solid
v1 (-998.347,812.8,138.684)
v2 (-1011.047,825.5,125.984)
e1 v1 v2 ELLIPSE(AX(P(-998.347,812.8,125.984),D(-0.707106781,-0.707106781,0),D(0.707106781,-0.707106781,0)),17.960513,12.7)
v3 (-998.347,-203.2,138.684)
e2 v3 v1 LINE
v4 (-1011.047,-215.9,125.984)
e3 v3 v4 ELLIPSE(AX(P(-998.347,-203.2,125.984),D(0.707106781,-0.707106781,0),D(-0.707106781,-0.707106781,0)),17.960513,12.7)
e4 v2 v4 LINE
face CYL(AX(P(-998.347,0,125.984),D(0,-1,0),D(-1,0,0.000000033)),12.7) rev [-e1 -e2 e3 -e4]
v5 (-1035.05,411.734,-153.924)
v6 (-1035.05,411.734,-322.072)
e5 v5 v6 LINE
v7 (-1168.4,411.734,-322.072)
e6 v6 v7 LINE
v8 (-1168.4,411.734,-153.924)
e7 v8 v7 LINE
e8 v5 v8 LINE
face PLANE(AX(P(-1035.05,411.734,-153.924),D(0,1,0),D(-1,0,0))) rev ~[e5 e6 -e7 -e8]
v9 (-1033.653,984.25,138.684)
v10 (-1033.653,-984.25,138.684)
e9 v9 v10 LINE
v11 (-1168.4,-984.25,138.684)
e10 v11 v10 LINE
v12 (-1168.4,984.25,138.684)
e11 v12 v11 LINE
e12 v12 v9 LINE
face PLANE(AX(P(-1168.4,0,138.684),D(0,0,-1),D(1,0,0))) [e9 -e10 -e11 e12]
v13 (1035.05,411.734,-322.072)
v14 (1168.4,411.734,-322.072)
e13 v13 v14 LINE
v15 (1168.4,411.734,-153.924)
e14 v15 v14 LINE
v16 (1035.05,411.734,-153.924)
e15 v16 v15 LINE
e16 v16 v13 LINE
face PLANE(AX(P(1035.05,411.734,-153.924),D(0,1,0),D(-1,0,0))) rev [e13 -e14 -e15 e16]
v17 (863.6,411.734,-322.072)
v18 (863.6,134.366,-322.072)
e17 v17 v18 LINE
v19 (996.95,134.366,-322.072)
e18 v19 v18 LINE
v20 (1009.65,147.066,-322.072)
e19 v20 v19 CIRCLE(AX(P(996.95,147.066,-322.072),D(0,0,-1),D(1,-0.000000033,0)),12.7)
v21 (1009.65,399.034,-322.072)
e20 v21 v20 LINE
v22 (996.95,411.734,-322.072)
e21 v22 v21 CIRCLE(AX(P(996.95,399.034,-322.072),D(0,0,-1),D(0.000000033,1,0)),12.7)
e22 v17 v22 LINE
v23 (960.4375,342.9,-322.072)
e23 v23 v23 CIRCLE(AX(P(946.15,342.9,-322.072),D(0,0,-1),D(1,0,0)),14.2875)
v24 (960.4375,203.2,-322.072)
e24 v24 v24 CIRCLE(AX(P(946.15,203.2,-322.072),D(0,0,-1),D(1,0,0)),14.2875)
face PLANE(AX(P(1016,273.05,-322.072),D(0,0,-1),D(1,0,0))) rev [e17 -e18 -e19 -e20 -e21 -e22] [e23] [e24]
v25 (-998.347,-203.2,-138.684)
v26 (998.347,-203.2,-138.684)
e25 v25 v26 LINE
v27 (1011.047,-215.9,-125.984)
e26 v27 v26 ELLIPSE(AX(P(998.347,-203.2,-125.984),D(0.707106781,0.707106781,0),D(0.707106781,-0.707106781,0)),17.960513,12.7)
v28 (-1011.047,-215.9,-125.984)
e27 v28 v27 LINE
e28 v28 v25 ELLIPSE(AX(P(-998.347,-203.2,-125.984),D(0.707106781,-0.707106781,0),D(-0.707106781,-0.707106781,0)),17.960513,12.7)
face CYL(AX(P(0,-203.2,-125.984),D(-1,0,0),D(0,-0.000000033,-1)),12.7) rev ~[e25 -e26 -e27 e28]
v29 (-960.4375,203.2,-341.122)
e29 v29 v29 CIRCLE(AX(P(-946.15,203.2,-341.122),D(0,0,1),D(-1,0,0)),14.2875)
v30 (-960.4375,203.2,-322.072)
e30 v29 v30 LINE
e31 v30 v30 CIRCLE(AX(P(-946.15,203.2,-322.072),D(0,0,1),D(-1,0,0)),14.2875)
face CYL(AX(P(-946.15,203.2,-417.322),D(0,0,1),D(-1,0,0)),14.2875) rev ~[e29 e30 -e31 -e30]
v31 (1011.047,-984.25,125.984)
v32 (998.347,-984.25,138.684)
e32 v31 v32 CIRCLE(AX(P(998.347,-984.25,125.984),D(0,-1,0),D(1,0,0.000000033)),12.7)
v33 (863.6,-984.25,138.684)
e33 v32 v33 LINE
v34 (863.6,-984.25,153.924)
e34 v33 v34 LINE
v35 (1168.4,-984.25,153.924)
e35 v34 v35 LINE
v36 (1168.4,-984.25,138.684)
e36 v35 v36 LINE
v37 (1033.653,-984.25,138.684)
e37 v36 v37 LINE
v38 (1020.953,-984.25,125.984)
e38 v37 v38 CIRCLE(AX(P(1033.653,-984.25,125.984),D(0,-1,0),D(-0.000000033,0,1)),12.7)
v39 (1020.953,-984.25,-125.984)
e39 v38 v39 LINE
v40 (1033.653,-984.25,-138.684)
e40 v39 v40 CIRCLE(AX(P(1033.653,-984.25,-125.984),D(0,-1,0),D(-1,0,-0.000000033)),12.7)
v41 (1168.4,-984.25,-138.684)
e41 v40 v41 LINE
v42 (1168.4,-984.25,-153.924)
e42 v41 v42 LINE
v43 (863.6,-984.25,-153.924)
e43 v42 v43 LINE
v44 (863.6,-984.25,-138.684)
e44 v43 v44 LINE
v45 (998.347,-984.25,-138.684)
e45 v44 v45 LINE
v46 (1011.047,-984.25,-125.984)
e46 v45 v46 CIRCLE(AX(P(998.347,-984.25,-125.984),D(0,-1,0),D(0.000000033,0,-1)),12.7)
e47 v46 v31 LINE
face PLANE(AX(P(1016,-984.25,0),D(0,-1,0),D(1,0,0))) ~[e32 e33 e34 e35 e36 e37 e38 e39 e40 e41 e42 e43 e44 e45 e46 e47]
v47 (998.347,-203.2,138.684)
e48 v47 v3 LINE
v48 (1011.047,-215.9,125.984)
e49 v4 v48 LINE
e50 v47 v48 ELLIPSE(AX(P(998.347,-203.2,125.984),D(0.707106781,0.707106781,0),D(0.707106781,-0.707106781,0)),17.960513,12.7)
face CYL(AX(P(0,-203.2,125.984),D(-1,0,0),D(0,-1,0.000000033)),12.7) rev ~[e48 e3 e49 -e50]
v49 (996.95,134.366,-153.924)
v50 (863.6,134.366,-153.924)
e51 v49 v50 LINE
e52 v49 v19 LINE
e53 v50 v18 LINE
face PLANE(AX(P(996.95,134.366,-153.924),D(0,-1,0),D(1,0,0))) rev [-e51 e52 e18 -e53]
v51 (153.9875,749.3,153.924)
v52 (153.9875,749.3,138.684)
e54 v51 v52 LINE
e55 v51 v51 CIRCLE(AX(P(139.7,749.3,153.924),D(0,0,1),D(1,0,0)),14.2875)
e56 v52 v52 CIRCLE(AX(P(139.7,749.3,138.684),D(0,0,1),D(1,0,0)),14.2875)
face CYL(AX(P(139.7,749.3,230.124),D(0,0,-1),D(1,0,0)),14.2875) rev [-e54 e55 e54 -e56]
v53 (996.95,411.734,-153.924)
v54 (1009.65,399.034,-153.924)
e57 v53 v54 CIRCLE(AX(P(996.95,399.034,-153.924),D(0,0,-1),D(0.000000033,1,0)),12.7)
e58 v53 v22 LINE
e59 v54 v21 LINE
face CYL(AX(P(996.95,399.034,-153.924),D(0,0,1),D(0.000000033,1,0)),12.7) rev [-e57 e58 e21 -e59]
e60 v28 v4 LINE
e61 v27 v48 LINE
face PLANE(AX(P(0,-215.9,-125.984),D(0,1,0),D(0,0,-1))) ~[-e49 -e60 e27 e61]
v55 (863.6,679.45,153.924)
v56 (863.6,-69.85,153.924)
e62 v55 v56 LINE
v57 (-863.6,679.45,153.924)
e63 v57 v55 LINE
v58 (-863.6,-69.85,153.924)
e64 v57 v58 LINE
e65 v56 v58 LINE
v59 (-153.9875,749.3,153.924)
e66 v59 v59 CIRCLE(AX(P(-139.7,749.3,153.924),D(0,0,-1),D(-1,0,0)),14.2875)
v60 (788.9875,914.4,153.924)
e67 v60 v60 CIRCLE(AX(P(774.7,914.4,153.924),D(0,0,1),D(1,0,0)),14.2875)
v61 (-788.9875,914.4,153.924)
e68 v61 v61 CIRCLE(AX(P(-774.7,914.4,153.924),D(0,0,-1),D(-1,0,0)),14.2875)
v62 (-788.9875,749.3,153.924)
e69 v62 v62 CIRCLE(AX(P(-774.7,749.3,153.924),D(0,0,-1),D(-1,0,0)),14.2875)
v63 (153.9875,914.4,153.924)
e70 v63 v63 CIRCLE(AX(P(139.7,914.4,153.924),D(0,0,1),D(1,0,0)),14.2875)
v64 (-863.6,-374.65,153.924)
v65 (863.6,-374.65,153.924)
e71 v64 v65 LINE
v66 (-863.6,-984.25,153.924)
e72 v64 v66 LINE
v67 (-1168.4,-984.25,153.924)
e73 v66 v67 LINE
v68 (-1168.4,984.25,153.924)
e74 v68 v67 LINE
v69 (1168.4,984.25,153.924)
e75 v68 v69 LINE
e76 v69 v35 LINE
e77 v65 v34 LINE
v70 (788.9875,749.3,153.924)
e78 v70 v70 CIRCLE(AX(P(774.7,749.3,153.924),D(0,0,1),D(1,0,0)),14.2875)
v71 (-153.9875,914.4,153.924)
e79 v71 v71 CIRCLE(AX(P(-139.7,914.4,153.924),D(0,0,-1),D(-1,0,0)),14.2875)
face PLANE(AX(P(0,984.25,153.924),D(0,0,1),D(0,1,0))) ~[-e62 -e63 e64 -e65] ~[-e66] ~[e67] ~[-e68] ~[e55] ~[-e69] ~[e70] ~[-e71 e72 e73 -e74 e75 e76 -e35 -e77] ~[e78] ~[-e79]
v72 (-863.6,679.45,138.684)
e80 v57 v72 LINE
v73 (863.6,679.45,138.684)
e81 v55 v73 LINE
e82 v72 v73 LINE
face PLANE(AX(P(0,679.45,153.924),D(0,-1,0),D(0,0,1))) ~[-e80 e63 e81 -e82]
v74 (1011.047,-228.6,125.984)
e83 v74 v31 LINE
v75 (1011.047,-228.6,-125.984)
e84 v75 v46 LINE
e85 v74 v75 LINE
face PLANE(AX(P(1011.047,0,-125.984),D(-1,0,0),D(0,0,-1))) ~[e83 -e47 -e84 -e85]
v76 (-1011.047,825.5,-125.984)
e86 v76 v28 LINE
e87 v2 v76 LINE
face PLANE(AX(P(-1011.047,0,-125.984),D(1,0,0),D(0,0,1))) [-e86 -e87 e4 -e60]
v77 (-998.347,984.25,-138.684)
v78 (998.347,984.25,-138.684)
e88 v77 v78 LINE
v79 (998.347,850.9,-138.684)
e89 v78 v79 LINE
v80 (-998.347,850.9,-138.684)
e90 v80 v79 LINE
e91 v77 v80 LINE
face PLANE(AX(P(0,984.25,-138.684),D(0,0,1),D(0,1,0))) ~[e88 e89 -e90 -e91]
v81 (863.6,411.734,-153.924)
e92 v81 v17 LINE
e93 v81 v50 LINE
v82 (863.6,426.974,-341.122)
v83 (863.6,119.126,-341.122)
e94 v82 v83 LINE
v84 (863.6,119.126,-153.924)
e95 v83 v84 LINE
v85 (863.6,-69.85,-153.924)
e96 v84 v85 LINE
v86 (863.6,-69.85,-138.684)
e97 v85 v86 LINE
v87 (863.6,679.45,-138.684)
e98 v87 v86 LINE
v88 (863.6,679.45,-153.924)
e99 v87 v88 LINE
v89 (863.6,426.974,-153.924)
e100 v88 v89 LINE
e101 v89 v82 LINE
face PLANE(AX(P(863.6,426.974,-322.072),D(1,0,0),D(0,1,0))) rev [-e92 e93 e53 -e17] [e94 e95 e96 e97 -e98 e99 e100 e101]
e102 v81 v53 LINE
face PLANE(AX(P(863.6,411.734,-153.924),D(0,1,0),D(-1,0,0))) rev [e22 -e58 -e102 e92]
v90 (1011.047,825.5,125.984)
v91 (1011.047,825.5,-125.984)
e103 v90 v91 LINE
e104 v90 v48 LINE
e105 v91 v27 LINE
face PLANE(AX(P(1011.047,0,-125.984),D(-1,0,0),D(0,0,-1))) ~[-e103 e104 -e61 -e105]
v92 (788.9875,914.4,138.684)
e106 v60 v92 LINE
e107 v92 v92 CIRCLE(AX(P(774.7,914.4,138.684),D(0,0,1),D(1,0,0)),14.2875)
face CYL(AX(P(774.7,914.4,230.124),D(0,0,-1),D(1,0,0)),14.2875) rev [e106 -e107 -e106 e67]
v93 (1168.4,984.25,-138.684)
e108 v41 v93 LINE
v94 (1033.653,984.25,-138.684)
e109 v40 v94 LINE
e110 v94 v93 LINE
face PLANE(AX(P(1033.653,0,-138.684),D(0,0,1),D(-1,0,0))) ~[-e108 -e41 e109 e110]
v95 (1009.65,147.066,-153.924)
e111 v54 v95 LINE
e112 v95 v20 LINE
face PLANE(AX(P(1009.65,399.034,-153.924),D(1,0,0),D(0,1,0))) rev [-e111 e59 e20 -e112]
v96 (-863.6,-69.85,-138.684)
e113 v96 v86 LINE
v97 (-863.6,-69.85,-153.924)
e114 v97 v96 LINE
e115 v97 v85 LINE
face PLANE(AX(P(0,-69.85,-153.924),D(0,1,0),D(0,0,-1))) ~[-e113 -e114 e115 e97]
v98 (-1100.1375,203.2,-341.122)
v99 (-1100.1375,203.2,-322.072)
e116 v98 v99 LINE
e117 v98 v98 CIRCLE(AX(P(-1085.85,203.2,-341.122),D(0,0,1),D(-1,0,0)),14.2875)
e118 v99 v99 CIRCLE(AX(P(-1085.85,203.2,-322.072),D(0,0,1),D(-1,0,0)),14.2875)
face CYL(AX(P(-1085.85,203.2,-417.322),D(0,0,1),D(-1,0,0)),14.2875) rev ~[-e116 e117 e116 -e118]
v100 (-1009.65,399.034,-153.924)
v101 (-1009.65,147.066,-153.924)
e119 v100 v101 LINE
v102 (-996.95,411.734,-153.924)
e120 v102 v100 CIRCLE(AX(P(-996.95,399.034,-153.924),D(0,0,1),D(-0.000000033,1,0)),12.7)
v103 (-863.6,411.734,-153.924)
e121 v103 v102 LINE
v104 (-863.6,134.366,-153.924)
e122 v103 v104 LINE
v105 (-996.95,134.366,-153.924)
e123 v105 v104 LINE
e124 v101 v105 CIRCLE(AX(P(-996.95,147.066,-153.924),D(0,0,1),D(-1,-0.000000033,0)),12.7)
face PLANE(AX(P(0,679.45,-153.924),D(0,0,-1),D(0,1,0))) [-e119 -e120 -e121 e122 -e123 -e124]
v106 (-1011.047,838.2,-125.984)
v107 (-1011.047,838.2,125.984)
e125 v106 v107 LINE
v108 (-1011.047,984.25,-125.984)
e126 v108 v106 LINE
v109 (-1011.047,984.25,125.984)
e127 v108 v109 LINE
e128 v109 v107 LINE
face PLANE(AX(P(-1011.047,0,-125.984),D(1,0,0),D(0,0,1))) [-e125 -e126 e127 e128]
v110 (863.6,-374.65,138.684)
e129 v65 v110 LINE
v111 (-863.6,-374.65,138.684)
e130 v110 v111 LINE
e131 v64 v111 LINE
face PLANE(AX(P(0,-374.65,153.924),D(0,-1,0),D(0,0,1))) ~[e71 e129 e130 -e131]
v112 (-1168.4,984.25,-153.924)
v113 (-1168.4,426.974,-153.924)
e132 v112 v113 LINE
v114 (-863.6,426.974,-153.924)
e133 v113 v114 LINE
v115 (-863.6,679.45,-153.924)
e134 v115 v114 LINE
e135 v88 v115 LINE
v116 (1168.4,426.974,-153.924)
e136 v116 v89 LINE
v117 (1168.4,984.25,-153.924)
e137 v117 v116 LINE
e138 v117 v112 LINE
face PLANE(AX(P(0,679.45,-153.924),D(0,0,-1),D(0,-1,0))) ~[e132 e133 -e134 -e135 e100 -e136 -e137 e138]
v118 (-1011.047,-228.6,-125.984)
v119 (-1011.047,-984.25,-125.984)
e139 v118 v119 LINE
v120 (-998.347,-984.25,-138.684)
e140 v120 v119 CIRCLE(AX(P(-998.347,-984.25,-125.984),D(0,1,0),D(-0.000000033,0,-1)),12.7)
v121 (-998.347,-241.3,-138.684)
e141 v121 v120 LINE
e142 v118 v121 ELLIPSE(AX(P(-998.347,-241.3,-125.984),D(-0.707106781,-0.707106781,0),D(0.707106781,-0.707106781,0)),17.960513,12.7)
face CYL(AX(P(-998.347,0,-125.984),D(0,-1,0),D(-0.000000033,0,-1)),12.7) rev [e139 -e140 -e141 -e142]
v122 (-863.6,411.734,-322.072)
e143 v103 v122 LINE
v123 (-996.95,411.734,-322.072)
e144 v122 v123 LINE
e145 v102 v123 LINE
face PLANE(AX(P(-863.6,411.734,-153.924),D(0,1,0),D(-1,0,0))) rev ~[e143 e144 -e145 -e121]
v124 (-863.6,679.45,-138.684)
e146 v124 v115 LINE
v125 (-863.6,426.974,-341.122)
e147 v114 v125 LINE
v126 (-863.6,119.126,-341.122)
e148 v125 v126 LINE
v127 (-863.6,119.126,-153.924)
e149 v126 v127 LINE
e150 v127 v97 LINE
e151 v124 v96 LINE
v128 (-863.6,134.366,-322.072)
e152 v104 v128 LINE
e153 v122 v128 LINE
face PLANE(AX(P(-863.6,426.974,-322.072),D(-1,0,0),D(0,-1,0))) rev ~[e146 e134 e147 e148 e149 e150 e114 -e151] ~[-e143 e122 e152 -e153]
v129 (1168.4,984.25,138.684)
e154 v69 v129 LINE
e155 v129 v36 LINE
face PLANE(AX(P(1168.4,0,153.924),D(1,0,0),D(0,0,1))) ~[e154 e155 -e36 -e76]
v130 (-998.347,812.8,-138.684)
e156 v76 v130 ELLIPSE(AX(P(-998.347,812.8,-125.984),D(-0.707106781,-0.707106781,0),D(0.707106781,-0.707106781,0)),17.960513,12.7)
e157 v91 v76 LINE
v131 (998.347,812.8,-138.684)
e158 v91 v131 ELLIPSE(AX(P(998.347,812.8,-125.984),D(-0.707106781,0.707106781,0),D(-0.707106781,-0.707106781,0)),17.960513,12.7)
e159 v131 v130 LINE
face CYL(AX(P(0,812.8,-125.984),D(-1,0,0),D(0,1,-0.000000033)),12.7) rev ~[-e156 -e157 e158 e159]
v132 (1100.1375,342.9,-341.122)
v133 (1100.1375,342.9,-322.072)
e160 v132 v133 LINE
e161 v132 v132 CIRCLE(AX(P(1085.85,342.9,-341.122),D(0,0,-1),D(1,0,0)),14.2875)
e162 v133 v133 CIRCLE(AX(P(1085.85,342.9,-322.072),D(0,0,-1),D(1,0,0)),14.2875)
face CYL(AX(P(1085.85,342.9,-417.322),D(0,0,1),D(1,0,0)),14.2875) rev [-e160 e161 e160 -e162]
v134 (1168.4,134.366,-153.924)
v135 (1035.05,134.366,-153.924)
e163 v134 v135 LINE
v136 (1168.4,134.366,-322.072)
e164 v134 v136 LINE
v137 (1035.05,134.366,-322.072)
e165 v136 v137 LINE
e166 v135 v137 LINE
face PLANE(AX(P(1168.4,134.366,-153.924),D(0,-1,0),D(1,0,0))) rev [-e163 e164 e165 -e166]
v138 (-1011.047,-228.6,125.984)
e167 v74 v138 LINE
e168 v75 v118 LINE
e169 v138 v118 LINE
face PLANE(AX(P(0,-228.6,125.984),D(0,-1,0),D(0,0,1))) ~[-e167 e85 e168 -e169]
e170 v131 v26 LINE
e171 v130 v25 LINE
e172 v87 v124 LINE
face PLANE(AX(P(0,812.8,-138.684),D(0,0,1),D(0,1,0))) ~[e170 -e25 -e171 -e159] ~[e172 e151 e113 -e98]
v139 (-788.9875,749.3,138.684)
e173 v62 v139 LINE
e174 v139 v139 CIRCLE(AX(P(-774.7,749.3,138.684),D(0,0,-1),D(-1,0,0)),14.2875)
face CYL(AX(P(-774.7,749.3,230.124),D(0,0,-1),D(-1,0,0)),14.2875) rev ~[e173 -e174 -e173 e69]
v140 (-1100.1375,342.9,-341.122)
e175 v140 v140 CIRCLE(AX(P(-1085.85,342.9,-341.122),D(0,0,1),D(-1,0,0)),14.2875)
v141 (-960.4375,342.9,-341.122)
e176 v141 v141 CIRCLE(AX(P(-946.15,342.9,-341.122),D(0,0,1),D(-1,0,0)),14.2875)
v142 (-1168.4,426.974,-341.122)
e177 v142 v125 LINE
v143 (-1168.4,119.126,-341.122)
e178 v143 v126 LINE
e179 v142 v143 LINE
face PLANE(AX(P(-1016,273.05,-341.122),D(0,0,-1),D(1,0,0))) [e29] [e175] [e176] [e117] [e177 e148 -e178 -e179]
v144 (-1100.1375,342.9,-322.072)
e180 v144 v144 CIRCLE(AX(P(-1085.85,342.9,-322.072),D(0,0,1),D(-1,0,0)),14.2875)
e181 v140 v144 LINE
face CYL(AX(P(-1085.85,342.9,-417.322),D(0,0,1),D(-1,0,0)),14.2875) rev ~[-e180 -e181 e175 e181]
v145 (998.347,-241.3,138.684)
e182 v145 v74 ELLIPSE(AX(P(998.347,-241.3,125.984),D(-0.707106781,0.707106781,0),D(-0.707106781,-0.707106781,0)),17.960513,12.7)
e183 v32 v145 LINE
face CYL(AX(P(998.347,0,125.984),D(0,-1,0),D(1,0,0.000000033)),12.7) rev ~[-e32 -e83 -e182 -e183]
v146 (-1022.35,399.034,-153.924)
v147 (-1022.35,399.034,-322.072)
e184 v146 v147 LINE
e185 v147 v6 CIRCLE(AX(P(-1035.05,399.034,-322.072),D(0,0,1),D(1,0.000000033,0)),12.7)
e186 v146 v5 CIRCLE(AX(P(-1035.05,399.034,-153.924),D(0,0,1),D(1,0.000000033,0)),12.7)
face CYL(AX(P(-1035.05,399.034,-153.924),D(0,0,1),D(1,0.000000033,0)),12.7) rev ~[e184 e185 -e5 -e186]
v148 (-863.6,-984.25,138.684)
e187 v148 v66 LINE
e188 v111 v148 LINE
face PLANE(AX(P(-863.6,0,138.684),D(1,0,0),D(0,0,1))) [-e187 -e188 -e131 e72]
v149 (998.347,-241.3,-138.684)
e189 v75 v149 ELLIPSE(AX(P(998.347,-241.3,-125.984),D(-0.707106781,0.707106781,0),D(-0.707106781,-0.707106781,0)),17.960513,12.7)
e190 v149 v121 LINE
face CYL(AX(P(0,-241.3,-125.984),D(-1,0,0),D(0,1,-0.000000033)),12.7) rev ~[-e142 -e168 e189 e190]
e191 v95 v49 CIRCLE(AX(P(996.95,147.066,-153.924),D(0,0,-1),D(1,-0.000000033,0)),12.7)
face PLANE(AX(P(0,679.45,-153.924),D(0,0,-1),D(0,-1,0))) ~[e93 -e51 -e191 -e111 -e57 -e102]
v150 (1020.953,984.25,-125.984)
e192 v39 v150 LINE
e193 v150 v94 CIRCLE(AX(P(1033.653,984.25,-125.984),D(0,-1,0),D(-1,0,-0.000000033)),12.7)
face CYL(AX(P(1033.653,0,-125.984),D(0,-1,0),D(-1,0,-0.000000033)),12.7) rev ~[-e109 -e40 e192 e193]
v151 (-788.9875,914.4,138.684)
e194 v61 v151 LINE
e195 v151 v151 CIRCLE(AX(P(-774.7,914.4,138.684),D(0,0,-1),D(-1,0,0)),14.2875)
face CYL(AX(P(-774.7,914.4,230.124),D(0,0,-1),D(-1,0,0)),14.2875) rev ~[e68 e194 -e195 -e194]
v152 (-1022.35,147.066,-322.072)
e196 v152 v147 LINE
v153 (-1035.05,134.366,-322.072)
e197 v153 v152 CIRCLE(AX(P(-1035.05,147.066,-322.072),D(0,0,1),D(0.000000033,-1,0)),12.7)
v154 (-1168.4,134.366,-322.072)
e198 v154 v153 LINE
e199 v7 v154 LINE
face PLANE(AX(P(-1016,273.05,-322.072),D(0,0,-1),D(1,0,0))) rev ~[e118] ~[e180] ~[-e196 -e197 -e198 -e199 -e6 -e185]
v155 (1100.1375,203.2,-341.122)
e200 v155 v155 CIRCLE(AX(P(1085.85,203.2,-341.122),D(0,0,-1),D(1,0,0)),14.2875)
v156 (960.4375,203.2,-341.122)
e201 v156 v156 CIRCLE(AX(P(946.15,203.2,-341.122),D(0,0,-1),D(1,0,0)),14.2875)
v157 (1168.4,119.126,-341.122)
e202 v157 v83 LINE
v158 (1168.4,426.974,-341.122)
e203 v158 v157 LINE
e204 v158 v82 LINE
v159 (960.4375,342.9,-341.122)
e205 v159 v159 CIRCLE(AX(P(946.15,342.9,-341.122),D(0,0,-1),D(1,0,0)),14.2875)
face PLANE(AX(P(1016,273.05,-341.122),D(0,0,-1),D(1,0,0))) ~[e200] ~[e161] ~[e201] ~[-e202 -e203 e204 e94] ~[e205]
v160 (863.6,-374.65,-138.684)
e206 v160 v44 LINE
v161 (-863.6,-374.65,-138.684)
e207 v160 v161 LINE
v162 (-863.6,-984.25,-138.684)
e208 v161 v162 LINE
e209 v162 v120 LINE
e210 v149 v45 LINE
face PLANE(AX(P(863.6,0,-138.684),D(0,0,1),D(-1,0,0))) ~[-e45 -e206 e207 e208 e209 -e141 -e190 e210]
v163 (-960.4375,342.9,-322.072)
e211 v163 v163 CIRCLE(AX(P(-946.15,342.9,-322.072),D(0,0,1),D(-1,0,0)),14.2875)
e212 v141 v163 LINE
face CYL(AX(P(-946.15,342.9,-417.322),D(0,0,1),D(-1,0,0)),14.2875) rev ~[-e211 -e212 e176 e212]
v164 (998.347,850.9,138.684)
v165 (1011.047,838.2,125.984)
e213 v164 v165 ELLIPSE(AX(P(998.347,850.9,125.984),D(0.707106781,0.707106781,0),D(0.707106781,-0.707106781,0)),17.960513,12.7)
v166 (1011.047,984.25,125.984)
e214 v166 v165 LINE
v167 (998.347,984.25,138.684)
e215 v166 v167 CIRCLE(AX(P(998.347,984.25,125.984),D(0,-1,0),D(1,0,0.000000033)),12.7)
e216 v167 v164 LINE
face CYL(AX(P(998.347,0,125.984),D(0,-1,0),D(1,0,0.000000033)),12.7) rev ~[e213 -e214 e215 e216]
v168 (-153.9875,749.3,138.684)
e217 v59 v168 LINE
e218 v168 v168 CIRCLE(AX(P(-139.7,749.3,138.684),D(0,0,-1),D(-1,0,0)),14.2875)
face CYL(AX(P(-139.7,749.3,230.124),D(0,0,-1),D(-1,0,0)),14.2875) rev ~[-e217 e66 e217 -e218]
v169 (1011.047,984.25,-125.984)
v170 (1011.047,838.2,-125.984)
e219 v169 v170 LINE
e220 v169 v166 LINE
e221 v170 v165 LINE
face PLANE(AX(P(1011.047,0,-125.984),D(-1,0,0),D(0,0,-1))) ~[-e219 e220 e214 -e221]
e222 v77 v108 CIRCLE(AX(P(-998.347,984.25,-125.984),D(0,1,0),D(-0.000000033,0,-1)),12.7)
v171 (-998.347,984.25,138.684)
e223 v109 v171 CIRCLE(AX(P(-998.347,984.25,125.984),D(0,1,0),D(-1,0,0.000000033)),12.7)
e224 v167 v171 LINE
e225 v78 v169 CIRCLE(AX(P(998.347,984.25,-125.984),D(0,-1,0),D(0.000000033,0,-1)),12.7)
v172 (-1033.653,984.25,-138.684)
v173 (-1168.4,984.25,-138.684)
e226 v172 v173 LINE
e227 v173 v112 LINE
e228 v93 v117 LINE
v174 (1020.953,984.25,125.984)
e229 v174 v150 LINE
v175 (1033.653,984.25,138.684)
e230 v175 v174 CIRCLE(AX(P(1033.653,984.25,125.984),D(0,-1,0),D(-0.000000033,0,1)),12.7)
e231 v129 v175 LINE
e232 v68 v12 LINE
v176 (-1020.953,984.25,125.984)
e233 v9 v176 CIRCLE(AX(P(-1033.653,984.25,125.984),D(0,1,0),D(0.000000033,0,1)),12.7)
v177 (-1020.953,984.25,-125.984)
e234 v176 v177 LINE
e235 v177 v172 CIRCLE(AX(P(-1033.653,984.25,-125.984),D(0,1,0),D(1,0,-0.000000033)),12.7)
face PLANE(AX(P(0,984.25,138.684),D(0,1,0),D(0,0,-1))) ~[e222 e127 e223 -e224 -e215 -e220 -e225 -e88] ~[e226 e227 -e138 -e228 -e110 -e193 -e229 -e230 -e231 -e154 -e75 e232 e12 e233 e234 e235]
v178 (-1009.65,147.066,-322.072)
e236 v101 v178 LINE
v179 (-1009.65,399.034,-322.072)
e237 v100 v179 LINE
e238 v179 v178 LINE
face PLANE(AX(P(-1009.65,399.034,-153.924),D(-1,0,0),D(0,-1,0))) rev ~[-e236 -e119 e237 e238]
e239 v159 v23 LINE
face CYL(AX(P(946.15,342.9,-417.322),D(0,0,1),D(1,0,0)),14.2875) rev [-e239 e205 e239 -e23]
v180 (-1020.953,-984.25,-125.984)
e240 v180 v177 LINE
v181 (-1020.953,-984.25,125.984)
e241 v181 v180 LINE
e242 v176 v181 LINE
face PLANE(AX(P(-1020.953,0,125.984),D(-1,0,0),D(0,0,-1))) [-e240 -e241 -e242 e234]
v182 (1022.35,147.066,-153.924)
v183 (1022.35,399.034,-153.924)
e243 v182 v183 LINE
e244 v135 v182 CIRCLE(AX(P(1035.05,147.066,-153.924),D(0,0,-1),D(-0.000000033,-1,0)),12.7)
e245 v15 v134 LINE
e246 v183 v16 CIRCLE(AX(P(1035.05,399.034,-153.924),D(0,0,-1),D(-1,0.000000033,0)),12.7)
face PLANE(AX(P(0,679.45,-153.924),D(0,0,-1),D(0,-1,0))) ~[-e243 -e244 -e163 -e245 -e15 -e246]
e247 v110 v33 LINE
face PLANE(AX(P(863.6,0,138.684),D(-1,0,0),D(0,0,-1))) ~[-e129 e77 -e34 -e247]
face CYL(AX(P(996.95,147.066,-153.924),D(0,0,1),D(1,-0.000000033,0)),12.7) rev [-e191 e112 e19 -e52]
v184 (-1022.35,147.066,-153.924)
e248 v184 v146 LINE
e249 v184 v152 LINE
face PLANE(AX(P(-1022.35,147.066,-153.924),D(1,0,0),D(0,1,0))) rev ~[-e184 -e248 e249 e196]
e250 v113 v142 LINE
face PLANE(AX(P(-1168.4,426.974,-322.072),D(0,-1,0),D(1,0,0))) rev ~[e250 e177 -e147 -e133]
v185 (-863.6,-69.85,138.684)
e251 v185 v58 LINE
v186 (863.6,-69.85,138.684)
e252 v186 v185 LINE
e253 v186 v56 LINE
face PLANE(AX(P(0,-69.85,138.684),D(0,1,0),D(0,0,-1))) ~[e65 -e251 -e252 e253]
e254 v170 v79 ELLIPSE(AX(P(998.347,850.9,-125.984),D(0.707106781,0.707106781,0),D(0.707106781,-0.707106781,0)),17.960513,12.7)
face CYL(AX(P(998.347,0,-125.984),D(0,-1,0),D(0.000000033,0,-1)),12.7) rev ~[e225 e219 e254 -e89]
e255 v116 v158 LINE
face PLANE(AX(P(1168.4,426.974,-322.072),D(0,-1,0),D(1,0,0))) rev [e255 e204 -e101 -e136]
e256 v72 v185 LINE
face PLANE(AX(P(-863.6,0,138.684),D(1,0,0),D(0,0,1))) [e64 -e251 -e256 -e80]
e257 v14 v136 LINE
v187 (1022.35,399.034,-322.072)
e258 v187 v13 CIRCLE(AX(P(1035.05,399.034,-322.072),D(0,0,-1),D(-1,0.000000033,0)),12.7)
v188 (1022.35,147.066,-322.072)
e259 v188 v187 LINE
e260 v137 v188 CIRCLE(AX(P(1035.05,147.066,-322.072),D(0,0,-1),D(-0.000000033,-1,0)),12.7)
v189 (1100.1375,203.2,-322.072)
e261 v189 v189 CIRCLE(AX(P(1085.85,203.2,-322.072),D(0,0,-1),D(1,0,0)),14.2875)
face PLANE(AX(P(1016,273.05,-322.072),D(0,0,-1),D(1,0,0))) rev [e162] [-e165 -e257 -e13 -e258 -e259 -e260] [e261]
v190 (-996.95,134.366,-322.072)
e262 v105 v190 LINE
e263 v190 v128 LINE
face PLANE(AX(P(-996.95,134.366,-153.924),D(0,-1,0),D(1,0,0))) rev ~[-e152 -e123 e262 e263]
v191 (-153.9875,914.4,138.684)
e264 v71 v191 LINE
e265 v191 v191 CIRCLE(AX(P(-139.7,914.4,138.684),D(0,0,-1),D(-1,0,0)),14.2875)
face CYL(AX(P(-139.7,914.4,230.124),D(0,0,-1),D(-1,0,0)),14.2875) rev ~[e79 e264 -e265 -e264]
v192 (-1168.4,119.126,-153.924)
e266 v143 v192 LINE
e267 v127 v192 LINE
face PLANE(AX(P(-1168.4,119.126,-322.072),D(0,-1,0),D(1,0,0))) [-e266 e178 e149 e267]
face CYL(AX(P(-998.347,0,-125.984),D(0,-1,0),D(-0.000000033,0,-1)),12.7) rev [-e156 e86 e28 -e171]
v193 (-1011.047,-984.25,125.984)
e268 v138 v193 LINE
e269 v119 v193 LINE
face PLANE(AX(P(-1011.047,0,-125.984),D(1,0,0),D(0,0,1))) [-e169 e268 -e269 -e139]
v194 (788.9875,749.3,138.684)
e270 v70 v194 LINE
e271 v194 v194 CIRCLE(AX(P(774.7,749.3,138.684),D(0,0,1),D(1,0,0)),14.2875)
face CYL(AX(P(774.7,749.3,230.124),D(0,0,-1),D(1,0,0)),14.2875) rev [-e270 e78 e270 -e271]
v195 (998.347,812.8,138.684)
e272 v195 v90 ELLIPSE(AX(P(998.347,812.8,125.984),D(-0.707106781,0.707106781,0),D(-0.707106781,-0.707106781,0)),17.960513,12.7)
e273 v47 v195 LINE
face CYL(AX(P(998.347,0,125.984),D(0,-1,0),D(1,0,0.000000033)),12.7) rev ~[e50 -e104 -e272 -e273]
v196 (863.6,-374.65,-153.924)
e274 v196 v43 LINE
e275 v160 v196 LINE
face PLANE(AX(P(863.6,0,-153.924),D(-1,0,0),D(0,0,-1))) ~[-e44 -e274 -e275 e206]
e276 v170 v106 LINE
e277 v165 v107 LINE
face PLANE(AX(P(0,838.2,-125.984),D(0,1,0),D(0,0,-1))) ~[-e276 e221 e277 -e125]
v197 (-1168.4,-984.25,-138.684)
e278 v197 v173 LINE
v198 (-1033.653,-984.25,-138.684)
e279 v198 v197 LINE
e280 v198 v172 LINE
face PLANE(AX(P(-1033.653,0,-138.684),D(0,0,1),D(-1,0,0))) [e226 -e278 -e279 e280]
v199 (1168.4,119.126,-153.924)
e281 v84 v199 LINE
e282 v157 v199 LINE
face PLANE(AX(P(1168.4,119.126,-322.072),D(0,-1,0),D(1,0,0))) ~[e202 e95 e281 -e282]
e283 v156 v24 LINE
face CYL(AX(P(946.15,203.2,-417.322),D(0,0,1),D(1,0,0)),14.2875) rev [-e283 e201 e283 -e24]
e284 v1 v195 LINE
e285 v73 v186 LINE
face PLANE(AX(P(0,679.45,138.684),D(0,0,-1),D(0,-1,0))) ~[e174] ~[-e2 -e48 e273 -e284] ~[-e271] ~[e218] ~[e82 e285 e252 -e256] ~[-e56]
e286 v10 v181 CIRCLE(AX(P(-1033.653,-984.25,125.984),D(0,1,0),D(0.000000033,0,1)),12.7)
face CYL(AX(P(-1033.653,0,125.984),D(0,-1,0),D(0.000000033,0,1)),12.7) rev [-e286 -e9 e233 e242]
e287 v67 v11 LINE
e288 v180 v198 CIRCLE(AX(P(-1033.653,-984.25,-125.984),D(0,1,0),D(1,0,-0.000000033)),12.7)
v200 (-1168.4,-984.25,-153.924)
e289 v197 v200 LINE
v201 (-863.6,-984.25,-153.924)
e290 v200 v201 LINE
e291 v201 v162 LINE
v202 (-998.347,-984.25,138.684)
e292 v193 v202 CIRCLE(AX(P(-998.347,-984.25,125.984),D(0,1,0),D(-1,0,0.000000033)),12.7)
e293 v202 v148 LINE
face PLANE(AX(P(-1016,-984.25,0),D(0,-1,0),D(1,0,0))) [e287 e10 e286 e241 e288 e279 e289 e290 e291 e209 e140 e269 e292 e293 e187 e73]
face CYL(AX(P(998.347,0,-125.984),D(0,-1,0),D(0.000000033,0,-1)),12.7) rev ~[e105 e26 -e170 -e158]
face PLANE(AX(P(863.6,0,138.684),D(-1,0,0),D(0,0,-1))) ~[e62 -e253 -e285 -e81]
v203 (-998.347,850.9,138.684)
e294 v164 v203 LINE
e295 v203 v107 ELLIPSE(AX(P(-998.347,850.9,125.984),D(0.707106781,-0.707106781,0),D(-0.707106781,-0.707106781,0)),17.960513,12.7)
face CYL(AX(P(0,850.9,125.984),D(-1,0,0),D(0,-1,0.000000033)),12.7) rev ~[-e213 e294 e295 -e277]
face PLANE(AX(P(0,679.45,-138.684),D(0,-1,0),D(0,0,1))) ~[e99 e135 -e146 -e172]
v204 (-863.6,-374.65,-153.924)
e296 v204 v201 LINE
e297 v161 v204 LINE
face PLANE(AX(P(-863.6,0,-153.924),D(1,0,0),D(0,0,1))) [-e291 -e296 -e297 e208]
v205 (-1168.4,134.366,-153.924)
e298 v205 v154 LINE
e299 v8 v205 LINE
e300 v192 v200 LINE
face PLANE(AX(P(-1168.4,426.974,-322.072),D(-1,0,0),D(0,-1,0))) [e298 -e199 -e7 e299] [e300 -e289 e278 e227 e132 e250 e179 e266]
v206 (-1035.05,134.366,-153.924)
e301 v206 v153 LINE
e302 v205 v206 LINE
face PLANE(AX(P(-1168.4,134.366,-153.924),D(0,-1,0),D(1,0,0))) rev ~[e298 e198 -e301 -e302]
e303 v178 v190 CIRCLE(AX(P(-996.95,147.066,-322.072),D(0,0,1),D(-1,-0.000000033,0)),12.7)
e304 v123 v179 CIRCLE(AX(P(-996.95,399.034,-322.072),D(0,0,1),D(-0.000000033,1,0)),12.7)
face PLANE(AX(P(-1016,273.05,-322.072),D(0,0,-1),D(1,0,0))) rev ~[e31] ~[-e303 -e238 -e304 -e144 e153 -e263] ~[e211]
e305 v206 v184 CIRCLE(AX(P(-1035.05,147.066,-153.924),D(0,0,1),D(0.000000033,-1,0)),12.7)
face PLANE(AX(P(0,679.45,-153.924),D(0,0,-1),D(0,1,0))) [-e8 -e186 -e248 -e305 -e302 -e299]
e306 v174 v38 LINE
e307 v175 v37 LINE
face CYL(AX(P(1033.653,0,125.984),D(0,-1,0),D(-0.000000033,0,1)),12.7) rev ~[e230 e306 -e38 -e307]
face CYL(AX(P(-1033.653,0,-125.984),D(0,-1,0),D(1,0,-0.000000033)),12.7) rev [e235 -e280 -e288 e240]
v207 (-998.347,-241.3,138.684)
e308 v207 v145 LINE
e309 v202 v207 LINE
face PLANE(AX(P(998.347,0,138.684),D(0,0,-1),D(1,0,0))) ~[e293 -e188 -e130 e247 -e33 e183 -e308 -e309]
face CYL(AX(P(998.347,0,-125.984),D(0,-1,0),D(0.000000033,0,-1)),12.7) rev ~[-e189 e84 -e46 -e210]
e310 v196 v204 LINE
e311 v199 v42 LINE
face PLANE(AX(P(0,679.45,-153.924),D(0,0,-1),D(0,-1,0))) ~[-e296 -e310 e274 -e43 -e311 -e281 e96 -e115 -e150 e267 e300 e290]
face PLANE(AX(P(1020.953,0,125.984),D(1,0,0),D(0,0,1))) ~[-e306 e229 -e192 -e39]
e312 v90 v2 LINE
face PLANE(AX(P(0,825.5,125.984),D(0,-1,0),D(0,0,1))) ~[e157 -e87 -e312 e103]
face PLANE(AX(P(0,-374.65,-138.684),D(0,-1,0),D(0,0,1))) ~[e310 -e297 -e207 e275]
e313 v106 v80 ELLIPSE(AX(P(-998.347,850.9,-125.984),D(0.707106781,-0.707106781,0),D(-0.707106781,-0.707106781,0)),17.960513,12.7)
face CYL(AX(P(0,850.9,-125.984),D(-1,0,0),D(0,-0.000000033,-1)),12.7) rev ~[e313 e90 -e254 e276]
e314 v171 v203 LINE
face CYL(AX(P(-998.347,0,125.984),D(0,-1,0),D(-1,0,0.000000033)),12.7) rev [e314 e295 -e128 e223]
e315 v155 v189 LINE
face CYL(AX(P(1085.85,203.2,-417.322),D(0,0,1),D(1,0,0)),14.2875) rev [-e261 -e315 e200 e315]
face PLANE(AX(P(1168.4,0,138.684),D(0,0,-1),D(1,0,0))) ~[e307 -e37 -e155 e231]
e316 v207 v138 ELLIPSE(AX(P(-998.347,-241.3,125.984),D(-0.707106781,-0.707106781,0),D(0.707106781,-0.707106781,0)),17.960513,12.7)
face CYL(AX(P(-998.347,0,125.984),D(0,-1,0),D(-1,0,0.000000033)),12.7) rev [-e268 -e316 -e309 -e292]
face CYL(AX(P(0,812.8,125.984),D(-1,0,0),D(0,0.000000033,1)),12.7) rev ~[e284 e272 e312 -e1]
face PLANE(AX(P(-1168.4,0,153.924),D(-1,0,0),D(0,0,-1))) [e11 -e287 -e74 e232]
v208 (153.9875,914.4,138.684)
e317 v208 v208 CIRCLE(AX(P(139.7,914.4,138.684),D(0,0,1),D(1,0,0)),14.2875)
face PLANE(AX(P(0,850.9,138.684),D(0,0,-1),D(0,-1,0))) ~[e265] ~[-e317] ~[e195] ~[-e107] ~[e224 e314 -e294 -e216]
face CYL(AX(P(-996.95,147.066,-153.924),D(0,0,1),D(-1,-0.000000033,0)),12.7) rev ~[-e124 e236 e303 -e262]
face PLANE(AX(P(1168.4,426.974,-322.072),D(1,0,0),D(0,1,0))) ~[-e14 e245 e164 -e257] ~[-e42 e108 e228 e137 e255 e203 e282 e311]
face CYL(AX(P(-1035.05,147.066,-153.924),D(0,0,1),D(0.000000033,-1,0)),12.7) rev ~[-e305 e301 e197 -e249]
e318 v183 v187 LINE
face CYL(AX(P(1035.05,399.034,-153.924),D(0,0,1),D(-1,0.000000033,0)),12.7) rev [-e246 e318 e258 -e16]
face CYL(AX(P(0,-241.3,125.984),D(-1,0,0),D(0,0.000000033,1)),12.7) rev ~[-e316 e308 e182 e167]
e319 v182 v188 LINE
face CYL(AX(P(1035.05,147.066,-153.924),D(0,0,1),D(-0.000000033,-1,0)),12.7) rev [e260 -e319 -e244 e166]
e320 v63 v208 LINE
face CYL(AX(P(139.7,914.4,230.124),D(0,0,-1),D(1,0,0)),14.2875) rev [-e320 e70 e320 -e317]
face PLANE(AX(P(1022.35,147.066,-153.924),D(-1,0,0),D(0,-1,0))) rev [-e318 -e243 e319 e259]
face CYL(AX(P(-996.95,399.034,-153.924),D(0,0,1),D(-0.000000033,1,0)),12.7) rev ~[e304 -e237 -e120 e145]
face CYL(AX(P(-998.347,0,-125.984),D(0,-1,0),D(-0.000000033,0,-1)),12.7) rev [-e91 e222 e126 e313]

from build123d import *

# Parameters (mm, degrees)
F1_DEPTH  = 984.25
F3_DEPTH  = 1011.047
F5_DEPTH  = 168.148
F6_W      = 304.8
F6_H      = 307.848
F7_DEPTH  = 19.05
F9_D      = 28.575
F9_DEPTH  = 76.2
F11_D     = 28.575
F11_DEPTH = 76.2


with BuildPart() as f1:
    # F0 (on Front) → F1 (new body, symmetric)
    with BuildSketch(Plane.XZ):
        with BuildLine():
            Line((-1168.4, -138.684), (-1168.4, -153.924))
            Line((-1168.4, -153.924), (-863.6, -153.924))
            Line((-863.6, -153.924), (-863.6, -138.684))
            Line((-863.6, -138.684), (-998.347, -138.684))
            ThreePointArc((-998.347, -138.684), (-1007.327256, -134.964256), (-1011.047, -125.984))
            Line((-1011.047, -125.984), (-1011.047, 125.984))
            ThreePointArc((-1011.047, 125.984), (-1007.327256, 134.964256), (-998.347, 138.684))
            Line((-998.347, 138.684), (-863.6, 138.684))
            Line((-863.6, 138.684), (-863.6, 153.924))
            Line((-863.6, 153.924), (-1168.4, 153.924))
            Line((-1168.4, 153.924), (-1168.4, 138.684))
            Line((-1168.4, 138.684), (-1033.653, 138.684))
            ThreePointArc((-1033.653, 138.684), (-1024.672744, 134.964256), (-1020.953, 125.984))
            Line((-1020.953, 125.984), (-1020.953, -125.984))
            ThreePointArc((-1020.953, -125.984), (-1024.672744, -134.964256), (-1033.653, -138.684))
            Line((-1033.653, -138.684), (-1168.4, -138.684))
        make_face()
    extrude(amount=F1_DEPTH, both=True)

    # F2 (on Right) → F3 (join, through all)
    with BuildSketch(Plane.YZ):
        with BuildLine():
            Line((984.25, 138.684), (984.25, 153.924))
            Line((984.25, 153.924), (679.45, 153.924))
            Line((679.45, 153.924), (679.45, 138.684))
            Line((679.45, 138.684), (812.8, 138.684))
            ThreePointArc((812.8, 138.684), (821.780256, 134.964256), (825.5, 125.984))
            Line((825.5, 125.984), (825.5, -125.984))
            ThreePointArc((825.5, -125.984), (821.780256, -134.964256), (812.8, -138.684))
            Line((812.8, -138.684), (679.45, -138.684))
            Line((679.45, -138.684), (679.45, -153.924))
            Line((679.45, -153.924), (984.25, -153.924))
            Line((984.25, -153.924), (984.25, -138.684))
            Line((984.25, -138.684), (850.9, -138.684))
            ThreePointArc((850.9, -138.684), (841.919744, -134.964256), (838.2, -125.984))
            Line((838.2, -125.984), (838.2, 125.984))
            ThreePointArc((838.2, 125.984), (841.919744, 134.964256), (850.9, 138.684))
            Line((850.9, 138.684), (984.25, 138.684))
        make_face()
        with BuildLine():
            Line((-69.85, 153.924), (-374.65, 153.924))
            Line((-374.65, 153.924), (-374.65, 138.684))
            Line((-374.65, 138.684), (-241.3, 138.684))
            ThreePointArc((-241.3, 138.684), (-232.319744, 134.964256), (-228.6, 125.984))
            Line((-228.6, 125.984), (-228.6, -125.984))
            ThreePointArc((-228.6, -125.984), (-232.319744, -134.964256), (-241.3, -138.684))
            Line((-241.3, -138.684), (-374.65, -138.684))
            Line((-374.65, -138.684), (-374.65, -153.924))
            Line((-374.65, -153.924), (-69.85, -153.924))
            Line((-69.85, -153.924), (-69.85, -138.684))
            Line((-69.85, -138.684), (-203.2, -138.684))
            ThreePointArc((-203.2, -138.684), (-212.180256, -134.964256), (-215.9, -125.984))
            Line((-215.9, -125.984), (-215.9, 125.984))
            ThreePointArc((-215.9, 125.984), (-212.180256, 134.964256), (-203.2, 138.684))
            Line((-203.2, 138.684), (-69.85, 138.684))
            Line((-69.85, 138.684), (-69.85, 153.924))
        make_face()
    extrude(amount=-F3_DEPTH)

    # F4 (on face) → F5 (join)
    with BuildSketch(Plane(origin=(0, 0, -153.924), x_dir=(1, 0, 0), z_dir=(0, 0, -1))):
        with BuildLine():
            Line((-863.6, -134.366), (-863.6, -119.126))
            Line((-863.6, -119.126), (-1168.4, -119.126))
            Line((-1168.4, -119.126), (-1168.4, -134.366))
            Line((-1168.4, -134.366), (-1035.05, -134.366))
            ThreePointArc((-1035.05, -134.366), (-1026.069744, -138.085744), (-1022.35, -147.066))
            Line((-1022.35, -147.066), (-1022.35, -399.034))
            ThreePointArc((-1022.35, -399.034), (-1026.069744, -408.014256), (-1035.05, -411.734))
            Line((-1035.05, -411.734), (-1168.4, -411.734))
            Line((-1168.4, -411.734), (-1168.4, -426.974))
            Line((-1168.4, -426.974), (-863.6, -426.974))
            Line((-863.6, -426.974), (-863.6, -411.734))
            Line((-863.6, -411.734), (-996.95, -411.734))
            ThreePointArc((-996.95, -411.734), (-1005.930256, -408.014256), (-1009.65, -399.034))
            Line((-1009.65, -399.034), (-1009.65, -147.066))
            ThreePointArc((-1009.65, -147.066), (-1005.930256, -138.085744), (-996.95, -134.366))
            Line((-996.95, -134.366), (-863.6, -134.366))
        make_face()
    extrude(amount=F5_DEPTH)

    # F6 (on face) → F7 (join)
    with BuildSketch(Plane(origin=(0, 0, -322.072), x_dir=(1, 0, 0), z_dir=(0, 0, -1))):
        with Locations((-1016, -273.05)):
            Rectangle(F6_W, F6_H)
    extrude(amount=F7_DEPTH)

    # F9
    with Locations(Plane(origin=(0, 0, -341.122), x_dir=(1, 0, 0), z_dir=(0, 0, -1))):
        with Locations((-946.15, -203.2), (-946.15, -342.9), (-1085.85, -342.9), (-1085.85, -203.2)):
            Hole(F9_D / 2, depth=F9_DEPTH)

    # F11
    with Locations(Plane.XY.offset(153.924)):
        with Locations((-774.7, 914.4), (-774.7, 749.3), (-139.7, 914.4), (-139.7, 749.3)):
            Hole(F11_D / 2, depth=F11_DEPTH)

    # F12: F1 across plane


with BuildPart() as f1_1:
    add(f1.part)
    add(f1.part.mirror(Plane.YZ))


solid = f1_1.part
